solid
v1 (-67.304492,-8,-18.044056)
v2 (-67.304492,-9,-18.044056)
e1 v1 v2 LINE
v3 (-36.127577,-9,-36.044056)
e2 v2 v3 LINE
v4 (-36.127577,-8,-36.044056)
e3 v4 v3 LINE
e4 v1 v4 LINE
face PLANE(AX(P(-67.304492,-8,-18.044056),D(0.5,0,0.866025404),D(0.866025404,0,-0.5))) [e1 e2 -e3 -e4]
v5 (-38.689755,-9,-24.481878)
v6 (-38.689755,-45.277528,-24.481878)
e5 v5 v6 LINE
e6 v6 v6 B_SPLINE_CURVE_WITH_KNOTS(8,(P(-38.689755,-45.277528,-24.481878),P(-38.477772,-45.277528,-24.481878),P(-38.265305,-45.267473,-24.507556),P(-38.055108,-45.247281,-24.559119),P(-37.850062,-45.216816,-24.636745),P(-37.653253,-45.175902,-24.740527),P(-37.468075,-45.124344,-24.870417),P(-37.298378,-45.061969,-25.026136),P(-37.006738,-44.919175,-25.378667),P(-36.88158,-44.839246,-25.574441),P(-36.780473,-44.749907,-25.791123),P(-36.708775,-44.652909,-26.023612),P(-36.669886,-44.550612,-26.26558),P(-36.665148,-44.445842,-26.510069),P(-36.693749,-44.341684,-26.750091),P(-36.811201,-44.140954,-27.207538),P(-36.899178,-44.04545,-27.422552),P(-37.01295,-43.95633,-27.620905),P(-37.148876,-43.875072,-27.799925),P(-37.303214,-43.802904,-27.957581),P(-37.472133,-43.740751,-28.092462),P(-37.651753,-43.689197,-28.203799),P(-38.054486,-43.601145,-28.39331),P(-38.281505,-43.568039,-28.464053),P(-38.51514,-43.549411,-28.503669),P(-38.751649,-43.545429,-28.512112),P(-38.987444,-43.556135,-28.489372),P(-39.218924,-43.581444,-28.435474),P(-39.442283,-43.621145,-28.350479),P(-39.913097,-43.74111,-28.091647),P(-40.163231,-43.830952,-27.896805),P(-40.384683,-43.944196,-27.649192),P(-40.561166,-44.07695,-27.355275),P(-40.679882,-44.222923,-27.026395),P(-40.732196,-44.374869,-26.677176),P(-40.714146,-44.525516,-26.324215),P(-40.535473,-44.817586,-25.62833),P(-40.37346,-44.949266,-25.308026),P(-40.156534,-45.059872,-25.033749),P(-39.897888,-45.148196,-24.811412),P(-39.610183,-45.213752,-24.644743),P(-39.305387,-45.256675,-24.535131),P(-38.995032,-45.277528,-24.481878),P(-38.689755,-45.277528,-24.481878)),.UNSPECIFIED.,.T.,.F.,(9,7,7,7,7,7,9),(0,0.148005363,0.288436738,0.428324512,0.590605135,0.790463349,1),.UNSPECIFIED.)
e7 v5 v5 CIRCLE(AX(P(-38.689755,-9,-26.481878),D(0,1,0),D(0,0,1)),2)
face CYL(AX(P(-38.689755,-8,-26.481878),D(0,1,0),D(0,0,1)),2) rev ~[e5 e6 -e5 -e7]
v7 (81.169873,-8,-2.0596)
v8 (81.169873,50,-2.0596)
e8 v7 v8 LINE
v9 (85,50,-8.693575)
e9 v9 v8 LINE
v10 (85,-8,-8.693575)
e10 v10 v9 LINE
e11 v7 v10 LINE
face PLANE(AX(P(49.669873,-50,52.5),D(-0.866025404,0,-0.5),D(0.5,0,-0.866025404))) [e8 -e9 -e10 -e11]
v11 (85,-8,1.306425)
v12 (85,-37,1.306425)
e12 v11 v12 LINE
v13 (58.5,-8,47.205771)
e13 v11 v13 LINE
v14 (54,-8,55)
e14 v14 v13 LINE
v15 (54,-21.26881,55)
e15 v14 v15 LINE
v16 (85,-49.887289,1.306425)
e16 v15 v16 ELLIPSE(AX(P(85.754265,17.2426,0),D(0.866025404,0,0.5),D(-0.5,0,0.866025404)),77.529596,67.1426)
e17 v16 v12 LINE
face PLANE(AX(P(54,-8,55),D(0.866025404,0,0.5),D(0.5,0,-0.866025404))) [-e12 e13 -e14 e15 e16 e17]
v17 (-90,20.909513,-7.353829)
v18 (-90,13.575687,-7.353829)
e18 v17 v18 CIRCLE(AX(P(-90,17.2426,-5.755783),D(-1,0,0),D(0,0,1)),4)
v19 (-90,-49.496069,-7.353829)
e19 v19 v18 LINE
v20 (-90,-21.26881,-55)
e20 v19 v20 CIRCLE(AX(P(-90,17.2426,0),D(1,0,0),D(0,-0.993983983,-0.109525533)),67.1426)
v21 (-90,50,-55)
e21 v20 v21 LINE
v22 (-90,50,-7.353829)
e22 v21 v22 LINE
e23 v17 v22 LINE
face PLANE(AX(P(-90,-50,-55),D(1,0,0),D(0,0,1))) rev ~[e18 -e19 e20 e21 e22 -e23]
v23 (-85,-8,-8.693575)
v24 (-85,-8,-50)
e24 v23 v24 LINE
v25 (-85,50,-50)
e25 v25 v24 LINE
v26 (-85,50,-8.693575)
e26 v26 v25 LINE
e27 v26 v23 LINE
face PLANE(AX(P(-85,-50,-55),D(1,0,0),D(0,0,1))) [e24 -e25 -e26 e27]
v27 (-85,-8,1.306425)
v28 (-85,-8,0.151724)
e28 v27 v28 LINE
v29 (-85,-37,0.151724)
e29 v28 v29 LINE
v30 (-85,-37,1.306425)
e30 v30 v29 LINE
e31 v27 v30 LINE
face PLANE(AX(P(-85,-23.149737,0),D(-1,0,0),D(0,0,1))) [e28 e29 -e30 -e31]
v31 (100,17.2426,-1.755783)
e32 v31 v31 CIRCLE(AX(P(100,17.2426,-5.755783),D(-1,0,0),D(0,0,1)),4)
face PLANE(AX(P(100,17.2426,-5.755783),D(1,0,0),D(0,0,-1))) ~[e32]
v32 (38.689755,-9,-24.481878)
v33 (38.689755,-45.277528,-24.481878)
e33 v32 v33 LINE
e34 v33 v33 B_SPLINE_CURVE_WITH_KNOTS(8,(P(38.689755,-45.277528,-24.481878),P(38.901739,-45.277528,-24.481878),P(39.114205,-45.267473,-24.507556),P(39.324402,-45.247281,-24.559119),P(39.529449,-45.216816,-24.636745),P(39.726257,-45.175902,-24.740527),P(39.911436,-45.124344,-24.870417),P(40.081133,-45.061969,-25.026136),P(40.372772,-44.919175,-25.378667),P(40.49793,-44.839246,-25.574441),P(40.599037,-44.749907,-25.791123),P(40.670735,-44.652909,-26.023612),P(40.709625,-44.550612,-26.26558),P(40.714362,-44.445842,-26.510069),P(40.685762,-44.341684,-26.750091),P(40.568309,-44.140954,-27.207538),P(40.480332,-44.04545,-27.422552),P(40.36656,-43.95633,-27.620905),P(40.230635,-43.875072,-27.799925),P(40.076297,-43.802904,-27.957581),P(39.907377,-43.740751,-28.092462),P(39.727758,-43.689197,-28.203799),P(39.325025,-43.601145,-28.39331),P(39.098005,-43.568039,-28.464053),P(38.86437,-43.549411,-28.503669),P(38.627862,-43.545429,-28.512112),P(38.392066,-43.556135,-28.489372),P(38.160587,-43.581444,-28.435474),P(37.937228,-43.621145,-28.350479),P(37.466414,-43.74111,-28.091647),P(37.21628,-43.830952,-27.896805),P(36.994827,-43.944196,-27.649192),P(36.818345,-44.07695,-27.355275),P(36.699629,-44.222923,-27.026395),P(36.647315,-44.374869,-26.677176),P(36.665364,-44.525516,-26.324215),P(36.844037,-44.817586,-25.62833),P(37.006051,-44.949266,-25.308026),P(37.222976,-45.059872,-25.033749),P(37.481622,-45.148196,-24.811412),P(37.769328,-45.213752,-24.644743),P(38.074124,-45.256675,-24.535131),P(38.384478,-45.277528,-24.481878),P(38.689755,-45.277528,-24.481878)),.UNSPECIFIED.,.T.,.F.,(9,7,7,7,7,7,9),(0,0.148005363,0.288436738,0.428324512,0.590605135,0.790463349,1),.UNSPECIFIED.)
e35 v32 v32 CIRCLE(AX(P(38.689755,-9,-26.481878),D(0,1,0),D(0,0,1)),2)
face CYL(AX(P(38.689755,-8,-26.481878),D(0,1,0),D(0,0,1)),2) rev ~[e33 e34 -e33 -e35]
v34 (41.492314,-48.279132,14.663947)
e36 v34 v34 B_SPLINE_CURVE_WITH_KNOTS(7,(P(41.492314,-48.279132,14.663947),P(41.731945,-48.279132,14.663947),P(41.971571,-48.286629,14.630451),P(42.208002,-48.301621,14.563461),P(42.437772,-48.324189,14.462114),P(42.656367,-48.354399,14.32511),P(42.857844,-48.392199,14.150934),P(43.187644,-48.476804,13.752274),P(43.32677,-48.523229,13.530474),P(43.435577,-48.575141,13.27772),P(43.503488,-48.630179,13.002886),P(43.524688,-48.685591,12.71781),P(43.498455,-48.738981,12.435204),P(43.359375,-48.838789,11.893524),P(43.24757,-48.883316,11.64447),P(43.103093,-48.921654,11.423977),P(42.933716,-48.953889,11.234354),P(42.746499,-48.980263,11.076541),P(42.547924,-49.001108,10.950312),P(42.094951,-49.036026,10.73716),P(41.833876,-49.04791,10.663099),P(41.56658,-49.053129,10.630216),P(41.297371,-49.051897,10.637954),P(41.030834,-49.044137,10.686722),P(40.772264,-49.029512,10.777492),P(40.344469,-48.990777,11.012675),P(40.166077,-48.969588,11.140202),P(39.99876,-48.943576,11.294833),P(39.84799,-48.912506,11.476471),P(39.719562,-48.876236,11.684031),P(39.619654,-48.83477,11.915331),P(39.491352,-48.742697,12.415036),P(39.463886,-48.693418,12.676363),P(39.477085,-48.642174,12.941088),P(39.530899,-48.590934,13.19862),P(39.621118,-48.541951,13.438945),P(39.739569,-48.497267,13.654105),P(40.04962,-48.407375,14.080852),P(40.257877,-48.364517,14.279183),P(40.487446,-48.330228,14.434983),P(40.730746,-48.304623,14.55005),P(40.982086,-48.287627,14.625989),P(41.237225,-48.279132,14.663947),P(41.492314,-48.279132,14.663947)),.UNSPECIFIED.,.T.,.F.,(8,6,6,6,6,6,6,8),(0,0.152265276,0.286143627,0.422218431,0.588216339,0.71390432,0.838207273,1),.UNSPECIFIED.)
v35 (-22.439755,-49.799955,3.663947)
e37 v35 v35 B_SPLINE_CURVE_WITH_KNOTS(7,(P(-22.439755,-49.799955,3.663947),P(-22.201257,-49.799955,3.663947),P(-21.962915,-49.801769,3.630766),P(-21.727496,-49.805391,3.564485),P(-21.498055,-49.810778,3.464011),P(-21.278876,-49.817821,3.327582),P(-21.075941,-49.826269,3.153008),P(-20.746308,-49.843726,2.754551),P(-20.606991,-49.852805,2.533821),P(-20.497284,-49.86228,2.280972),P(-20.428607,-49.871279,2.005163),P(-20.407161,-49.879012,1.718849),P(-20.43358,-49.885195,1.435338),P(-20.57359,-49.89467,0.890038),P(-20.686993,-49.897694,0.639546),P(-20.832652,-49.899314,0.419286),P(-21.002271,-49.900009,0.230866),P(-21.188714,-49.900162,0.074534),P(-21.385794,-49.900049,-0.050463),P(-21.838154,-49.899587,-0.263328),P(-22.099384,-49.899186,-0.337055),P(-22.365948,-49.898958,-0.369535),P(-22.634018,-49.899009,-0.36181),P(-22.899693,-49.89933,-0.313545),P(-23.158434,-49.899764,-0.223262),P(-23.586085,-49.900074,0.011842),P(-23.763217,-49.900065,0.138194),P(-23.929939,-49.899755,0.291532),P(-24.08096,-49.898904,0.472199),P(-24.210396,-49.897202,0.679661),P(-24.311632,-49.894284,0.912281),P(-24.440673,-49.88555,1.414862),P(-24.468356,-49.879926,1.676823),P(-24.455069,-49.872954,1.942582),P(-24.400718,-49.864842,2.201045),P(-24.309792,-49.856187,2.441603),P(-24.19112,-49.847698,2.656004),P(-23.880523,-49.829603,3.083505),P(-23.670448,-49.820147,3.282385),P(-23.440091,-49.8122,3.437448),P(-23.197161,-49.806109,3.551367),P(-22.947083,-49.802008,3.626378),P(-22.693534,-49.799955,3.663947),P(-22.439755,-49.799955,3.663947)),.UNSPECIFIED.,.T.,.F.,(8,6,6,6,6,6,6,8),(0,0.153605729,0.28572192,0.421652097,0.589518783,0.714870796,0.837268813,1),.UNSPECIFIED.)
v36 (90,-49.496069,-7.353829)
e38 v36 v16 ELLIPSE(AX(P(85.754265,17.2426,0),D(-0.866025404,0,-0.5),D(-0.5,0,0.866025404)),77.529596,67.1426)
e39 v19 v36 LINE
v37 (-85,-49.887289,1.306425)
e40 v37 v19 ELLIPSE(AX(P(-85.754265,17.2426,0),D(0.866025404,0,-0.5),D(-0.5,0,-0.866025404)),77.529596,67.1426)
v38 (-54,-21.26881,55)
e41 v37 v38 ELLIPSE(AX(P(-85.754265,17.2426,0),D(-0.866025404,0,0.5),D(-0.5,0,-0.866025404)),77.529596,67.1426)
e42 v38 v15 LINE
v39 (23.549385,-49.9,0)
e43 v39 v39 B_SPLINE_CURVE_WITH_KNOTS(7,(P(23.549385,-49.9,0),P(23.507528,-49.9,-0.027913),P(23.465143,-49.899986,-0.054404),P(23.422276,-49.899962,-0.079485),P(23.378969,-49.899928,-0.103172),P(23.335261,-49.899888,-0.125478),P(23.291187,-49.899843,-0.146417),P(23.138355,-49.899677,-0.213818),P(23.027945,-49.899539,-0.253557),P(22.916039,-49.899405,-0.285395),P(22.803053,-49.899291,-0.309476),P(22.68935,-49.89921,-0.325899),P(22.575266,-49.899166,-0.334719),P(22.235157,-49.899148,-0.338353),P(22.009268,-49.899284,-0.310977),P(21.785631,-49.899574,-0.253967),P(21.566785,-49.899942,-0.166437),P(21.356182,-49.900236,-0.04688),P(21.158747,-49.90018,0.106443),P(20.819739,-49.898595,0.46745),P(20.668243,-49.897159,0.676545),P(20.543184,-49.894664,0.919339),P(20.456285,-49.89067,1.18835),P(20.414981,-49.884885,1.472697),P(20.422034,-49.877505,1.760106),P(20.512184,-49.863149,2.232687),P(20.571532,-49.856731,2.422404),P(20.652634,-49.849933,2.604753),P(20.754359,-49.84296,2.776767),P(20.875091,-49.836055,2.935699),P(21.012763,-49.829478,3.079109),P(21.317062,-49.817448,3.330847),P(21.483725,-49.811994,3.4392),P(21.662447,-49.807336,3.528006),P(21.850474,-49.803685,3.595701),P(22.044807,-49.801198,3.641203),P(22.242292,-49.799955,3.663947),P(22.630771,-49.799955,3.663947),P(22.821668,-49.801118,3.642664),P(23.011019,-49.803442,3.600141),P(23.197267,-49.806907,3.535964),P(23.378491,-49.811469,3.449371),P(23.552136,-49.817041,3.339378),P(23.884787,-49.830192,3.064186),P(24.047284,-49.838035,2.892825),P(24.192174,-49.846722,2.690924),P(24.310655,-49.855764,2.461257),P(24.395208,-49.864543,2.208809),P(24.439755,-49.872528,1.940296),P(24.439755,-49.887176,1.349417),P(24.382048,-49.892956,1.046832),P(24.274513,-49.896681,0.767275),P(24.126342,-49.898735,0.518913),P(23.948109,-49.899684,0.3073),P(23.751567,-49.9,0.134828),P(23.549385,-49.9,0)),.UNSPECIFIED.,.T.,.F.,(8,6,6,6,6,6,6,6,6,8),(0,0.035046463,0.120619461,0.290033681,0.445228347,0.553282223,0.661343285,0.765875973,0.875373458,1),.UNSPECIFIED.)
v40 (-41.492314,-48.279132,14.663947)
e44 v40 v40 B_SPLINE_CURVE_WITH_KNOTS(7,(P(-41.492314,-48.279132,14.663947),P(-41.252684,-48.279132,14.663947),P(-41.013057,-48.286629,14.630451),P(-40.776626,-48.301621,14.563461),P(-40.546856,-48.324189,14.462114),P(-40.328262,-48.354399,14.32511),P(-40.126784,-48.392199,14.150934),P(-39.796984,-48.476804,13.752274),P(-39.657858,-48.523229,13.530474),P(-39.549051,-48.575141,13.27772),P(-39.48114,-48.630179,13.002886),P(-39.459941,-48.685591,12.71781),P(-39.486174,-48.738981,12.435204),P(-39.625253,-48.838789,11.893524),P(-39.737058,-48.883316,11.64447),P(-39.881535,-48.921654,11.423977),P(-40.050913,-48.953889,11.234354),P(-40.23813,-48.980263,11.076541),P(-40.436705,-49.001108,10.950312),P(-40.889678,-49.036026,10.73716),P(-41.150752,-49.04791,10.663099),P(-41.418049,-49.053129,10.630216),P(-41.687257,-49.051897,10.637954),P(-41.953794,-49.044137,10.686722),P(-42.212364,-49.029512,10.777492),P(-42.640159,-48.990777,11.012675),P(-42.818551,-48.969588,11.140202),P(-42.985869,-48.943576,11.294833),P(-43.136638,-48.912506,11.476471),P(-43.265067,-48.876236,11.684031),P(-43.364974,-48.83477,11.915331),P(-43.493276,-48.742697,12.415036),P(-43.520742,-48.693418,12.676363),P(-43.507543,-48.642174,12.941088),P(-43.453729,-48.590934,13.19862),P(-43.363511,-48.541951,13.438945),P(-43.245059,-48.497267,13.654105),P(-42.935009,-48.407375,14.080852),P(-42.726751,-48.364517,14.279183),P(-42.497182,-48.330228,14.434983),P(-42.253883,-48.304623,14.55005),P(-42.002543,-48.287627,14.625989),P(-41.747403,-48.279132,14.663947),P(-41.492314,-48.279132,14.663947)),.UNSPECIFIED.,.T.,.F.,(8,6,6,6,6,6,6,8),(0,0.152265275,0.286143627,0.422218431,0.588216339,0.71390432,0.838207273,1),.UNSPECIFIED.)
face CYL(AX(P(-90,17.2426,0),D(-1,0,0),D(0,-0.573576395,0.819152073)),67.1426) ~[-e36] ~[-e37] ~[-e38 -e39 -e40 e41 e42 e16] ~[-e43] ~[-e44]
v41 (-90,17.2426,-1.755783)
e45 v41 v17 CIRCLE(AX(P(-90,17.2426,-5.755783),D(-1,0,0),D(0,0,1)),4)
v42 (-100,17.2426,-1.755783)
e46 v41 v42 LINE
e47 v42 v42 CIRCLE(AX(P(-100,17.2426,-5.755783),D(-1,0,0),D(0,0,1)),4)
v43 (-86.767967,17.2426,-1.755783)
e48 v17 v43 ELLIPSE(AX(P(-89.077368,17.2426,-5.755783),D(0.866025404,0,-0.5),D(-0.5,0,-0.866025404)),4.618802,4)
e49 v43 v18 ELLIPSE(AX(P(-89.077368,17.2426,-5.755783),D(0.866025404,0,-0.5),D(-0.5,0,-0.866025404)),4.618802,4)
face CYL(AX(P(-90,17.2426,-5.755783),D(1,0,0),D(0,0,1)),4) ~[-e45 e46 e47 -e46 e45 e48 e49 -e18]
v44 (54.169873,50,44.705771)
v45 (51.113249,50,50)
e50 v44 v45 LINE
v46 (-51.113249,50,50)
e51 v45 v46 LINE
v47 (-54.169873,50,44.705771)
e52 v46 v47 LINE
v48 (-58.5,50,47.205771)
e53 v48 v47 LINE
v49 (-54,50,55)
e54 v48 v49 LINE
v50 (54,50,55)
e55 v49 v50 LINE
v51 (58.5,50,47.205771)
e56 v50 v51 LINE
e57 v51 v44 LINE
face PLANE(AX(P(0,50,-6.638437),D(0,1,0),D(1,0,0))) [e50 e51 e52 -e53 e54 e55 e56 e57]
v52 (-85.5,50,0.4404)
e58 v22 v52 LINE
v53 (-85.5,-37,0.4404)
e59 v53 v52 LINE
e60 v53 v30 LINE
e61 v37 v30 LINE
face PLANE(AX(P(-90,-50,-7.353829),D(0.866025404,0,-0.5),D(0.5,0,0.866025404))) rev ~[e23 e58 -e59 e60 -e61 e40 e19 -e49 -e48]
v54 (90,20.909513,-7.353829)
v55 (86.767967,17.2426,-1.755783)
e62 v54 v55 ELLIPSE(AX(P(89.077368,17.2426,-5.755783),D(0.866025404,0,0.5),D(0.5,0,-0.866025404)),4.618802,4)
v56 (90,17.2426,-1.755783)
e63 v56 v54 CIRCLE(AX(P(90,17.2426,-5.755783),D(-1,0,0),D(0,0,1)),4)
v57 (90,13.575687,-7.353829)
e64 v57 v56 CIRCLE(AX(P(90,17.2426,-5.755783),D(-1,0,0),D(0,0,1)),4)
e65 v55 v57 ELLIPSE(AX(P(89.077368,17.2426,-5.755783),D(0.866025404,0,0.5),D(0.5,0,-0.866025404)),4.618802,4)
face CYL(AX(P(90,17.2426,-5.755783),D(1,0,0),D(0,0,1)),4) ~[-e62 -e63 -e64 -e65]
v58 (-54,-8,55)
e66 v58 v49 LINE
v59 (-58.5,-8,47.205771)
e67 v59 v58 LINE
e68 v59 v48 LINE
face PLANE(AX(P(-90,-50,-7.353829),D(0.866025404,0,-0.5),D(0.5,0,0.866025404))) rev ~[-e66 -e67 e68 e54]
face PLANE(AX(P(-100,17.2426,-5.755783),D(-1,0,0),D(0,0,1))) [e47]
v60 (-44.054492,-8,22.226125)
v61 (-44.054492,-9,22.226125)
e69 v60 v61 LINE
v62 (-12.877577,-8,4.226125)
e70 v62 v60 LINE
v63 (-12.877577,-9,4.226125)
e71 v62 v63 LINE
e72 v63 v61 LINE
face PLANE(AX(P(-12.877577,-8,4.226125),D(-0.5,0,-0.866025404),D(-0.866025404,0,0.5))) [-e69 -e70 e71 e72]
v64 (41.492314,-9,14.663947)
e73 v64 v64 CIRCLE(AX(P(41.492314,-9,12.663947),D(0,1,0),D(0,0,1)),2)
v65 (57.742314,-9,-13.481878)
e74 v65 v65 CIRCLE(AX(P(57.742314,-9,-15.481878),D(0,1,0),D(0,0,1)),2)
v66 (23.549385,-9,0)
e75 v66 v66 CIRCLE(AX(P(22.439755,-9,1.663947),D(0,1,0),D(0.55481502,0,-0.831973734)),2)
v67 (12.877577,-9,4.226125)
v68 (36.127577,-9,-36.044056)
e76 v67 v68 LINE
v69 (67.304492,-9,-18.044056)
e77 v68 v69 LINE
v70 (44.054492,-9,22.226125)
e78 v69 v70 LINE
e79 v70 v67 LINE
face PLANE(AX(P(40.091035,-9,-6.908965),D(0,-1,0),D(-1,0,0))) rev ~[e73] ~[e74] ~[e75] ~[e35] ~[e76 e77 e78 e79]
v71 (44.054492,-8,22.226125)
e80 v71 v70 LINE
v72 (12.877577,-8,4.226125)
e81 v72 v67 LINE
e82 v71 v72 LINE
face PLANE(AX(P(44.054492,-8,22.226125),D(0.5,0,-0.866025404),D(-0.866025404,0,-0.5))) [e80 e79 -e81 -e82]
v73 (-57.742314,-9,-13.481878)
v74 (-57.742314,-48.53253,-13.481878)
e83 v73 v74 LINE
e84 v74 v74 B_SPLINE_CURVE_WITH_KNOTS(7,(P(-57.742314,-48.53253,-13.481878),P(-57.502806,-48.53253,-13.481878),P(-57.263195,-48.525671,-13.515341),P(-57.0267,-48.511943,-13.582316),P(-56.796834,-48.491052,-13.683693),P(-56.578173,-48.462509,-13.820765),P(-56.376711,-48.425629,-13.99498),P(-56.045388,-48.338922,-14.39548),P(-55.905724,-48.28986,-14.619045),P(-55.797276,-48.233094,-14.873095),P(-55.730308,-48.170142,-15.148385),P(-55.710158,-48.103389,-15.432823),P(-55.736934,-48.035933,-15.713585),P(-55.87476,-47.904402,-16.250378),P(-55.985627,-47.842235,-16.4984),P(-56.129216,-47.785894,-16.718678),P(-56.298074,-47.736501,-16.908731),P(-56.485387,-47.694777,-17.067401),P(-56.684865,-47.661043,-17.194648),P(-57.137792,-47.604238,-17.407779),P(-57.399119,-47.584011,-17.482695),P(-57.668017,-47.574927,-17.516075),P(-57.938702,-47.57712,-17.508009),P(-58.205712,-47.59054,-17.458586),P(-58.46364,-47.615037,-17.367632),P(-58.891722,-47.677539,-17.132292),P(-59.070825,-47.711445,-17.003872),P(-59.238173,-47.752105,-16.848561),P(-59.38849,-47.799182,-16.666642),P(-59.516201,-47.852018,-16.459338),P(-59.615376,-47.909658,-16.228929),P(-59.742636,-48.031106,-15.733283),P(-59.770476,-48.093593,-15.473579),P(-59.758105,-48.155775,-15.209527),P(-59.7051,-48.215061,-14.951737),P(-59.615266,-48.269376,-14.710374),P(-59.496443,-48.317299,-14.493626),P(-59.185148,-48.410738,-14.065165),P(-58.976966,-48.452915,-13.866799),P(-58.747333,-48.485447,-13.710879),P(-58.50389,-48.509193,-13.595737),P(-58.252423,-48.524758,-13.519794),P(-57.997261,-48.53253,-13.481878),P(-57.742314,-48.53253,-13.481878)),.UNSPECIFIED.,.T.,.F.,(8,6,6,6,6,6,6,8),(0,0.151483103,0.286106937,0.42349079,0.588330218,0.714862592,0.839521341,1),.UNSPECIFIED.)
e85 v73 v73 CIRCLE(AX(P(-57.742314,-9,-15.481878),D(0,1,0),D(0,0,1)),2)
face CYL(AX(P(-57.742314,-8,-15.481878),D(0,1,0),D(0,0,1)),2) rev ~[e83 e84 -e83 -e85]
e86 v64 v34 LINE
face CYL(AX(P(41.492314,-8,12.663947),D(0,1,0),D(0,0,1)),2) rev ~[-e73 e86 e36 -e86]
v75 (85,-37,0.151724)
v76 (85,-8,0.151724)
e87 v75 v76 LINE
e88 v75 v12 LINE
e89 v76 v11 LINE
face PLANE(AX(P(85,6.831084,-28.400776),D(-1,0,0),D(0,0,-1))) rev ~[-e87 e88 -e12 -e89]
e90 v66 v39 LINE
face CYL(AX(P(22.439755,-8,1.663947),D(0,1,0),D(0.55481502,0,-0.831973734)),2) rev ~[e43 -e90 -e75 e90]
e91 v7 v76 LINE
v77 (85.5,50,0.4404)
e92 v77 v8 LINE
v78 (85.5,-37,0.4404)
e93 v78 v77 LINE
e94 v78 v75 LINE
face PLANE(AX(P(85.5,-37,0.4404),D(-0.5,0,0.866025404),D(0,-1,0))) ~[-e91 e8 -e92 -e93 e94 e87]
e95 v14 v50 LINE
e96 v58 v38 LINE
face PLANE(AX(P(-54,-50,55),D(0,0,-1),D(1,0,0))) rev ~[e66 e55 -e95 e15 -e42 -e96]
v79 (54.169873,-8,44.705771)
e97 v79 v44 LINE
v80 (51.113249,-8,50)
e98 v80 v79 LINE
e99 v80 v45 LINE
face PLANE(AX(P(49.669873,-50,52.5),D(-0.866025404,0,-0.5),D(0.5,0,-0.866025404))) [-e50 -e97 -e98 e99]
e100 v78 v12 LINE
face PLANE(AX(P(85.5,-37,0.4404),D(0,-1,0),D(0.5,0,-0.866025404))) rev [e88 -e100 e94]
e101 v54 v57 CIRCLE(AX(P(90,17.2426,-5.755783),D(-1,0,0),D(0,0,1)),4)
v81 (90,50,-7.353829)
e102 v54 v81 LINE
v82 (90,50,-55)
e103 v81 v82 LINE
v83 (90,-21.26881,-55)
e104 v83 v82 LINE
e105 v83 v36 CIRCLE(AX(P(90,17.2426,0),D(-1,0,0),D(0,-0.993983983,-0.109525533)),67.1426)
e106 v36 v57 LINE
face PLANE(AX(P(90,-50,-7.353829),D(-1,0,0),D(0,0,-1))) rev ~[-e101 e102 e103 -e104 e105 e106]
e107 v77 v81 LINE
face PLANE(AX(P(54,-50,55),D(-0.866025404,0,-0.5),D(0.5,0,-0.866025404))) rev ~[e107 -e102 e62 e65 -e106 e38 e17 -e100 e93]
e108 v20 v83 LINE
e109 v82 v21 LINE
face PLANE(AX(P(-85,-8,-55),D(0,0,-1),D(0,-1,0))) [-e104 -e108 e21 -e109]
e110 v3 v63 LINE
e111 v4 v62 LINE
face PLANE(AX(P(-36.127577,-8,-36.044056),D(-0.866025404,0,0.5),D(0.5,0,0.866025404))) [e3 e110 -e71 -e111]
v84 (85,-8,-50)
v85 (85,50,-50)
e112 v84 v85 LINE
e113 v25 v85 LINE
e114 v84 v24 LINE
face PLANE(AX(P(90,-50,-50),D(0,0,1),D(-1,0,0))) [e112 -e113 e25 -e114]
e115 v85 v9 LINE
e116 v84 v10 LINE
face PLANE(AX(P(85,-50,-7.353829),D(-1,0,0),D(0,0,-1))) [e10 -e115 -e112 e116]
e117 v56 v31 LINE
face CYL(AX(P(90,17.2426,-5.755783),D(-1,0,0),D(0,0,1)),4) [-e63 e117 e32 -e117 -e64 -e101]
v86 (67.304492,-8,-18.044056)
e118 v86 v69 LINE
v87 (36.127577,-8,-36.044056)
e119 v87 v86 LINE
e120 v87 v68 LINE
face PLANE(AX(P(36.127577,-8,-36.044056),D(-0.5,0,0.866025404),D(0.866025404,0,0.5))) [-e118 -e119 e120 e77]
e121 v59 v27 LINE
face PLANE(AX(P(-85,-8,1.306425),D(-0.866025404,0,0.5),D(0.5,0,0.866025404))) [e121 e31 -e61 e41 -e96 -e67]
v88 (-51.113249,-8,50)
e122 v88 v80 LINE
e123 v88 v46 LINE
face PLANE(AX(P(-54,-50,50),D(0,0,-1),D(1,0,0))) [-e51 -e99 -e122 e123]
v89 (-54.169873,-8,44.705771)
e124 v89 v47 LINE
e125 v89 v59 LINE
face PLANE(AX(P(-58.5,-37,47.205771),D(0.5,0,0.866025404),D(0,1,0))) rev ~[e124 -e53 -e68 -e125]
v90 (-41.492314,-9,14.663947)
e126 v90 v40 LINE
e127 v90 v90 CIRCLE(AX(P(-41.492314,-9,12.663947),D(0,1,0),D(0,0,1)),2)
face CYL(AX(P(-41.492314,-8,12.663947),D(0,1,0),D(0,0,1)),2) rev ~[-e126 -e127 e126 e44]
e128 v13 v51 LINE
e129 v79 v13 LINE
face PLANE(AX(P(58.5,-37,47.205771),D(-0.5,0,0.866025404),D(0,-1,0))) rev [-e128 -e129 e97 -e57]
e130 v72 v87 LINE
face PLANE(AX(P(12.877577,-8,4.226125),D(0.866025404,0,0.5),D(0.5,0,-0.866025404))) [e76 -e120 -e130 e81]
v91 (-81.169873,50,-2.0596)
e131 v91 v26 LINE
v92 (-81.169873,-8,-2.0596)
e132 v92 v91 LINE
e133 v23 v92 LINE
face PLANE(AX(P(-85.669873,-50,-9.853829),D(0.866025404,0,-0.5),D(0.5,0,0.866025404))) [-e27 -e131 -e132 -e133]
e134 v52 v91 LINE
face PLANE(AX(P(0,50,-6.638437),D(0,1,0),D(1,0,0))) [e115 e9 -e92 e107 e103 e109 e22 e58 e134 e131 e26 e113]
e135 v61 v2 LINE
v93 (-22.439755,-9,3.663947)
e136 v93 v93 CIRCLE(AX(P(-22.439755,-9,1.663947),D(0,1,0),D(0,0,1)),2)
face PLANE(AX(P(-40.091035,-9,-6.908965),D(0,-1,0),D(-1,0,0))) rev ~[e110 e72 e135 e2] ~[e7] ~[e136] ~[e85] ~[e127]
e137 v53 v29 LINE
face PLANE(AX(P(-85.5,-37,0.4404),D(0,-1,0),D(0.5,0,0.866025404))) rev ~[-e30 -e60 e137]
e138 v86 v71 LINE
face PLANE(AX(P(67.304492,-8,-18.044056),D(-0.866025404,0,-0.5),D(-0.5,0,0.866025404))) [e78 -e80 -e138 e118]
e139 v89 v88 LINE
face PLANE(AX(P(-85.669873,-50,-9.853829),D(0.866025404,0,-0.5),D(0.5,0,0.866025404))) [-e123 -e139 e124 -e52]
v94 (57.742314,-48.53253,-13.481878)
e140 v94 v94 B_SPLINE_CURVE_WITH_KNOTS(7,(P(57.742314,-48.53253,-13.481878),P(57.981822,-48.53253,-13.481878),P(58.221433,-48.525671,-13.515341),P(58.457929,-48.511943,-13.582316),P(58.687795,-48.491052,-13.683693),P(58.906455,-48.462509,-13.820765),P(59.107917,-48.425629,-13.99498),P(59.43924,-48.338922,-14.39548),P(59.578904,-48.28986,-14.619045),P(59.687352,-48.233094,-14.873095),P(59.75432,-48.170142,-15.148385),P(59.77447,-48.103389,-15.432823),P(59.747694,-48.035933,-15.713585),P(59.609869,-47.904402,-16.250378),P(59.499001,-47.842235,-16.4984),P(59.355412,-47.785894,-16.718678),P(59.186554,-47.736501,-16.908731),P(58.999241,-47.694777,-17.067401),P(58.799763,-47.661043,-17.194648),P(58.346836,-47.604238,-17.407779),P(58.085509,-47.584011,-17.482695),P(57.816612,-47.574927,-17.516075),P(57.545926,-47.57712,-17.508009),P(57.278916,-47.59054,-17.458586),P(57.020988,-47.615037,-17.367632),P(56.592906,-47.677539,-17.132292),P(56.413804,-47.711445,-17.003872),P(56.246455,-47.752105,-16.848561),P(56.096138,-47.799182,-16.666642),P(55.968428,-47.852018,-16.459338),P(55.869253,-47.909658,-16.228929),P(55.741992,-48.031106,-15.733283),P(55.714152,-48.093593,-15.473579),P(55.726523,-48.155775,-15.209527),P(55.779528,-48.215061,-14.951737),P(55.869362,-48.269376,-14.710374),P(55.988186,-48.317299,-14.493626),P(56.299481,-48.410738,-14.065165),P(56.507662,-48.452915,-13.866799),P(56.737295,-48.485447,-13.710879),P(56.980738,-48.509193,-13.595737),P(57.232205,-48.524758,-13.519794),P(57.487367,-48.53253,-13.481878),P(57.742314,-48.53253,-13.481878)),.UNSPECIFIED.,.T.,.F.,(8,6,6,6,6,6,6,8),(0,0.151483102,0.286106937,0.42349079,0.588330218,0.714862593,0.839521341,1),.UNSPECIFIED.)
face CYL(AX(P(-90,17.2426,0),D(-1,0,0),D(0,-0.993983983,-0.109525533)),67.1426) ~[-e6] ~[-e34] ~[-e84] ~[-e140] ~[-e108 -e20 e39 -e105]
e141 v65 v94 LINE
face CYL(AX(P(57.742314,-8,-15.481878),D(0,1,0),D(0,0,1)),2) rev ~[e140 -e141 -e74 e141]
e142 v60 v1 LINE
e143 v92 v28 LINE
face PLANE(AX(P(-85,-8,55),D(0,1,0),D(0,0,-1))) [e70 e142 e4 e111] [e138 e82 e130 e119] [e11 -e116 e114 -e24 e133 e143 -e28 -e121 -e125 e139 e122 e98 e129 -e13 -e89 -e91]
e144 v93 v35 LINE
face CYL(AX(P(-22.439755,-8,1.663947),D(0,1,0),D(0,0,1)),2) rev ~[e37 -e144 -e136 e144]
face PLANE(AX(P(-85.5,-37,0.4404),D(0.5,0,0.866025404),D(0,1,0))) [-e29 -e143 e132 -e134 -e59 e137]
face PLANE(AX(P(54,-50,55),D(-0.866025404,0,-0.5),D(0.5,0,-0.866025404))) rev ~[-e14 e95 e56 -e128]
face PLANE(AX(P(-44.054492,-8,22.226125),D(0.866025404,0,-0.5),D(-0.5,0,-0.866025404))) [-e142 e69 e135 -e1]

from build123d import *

# Parameters (mm, degrees)
BOSS_EXTRUDE1_DEPTH             = 50
BOSS_EXTRUDE1_DEPTH_BACK        = 50
CUT_EXTRUDE9_REACH              = 196.743
SHELL1_T                        = -5
SKETCH5_W                       = 54
SKETCH5_H                       = 87
CUT_EXTRUDE2_DEPTH              = 5
BOSS_EXTRUDE4_REACH             = 192.132
SKETCH6_R                       = 2
CUT_EXTRUDE4_DEPTH              = 121.370262108
SKETCH6_4_R                     = 2
CUT_EXTRUDE5_DEPTH              = 1
CUT_EXTRUDE10_REACH             = 122.37
SKETCH18_R                      = 4
BOSS_EXTRUDE5_DEPTH             = 10
BOSS_EXTRUDE5_DIRECTION_2_REACH = 196.743


with BuildPart() as part:
    # Sketch2 → Boss-Extrude1 (new, two sides: drawn at the far end of the back side and taken through both)
    with BuildSketch(Plane(origin=(0, 0, 0), x_dir=(1, 0, 0), z_dir=(0, 1, 0)).offset(-BOSS_EXTRUDE1_DEPTH_BACK)):
        Polygon((-90, 7.353829072), (-54, -55), (54, -55), (90, 7.353829072), (90, 55), (-90, 55), align=None)
    extrude(amount=BOSS_EXTRUDE1_DEPTH + BOSS_EXTRUDE1_DEPTH_BACK)

    # Sketch13 → Cut-Extrude9 (cut, up to next)
    with BuildSketch(Plane.ZY.offset(90), mode=Mode.PRIVATE) as cut_extrude9_sk1:
        with BuildLine():
            Line((-55, -21.268810449), (-55, -50))
            Line((-55, -50), (-7.353829072, -50))
            Line((-7.353829072, -50), (-7.353829072, -49.496068946))
            ThreePointArc((-7.353829072, -49.496068946), (-34.222719509, -40.523602958), (-55, -21.268810449))
        make_face()
    cut_extrude9_tool1 = extrude(cut_extrude9_sk1.sketch, amount=-CUT_EXTRUDE9_REACH, mode=Mode.PRIVATE) & part.part
    # Sketch13 → Cut-Extrude9 (cut, up to next)
    with BuildSketch(Plane.ZY.offset(90), mode=Mode.PRIVATE) as cut_extrude9_sk2:
        with BuildLine():
            Line((-7.353829072, -49.496068946), (-7.353829072, -50))
            Line((-7.353829072, -50), (55, -50))
            Line((55, -50), (55, -21.268810449))
            ThreePointArc((55, -21.268810449), (27.689960845, -43.924342078), (-7.353829072, -49.496068946))
        make_face()
    cut_extrude9_tool2 = extrude(cut_extrude9_sk2.sketch, amount=-CUT_EXTRUDE9_REACH, mode=Mode.PRIVATE) & part.part
    add(cut_extrude9_tool1.solids().sort_by_distance((-90, -41.817219, -41.87257))[0], mode=Mode.SUBTRACT)
    add(cut_extrude9_tool2.solids().sort_by_distance((-90, -41.875278, 41.569998))[0], mode=Mode.SUBTRACT)

    # Shell1
    shell1_openings = [part.faces().sort_by_distance(p)[0] for p in [
        (0, 50, -4.375017638),
    ]]
    offset(amount=SHELL1_T, openings=shell1_openings, kind=Kind.INTERSECTION)

    # Sketch5 → Cut-Extrude2 (cut)
    with BuildSketch(Plane(origin=(-64.315698604, 0, 37.132685902), x_dir=(0.500000000000001, 0, 0.8660254037844382), z_dir=(-0.866025403784438, 0, 0.5000000000000009))):
        with Locations((-15.368602792, 6.5)):
            Rectangle(SKETCH5_W, SKETCH5_H)
    cut_extrude2 = extrude(amount=-CUT_EXTRUDE2_DEPTH, mode=Mode.SUBTRACT)

    # Mirror1: Cut-Extrude2 across plane
    add(cut_extrude2.mirror(Plane(origin=(0, 0, 0), x_dir=(0, 0, 1), z_dir=(1, 0, 0))), mode=Mode.SUBTRACT)

    # Boss-Extrude4: up to this face of the body (flat: up to its plane)
    boss_extrude4_end = Plane(part.part.faces().sort_by_distance((85, 6.834453574, -28.402154485))[0])
    # Sketch16 → Boss-Extrude4 (add, up to the picked face)
    with BuildSketch(Plane(origin=(-85, 0, 0), x_dir=(0, 0, -1), z_dir=(1, 0, 0)), mode=Mode.PRIVATE) as boss_extrude4_sk1:
        with BuildLine():
            Line((-55, -8), (55, -8))
            Line((55, -8), (55, -21.268810449))
            ThreePointArc((55, -21.268810449), (0, -49.9), (-55, -21.268810449))
            Line((-55, -21.268810449), (-55, -8))
        make_face()
    boss_extrude4_tool1 = split(extrude(boss_extrude4_sk1.sketch, amount=BOSS_EXTRUDE4_REACH, mode=Mode.PRIVATE), bisect_by=boss_extrude4_end, keep=Keep.BOTH, mode=Mode.PRIVATE)
    add(boss_extrude4_tool1.solids().sort_by(Axis((-85, -25.669954, 0), (1, 0, 0)))[0])

    # Sketch6 → Cut-Extrude4 (cut, through all)
    with BuildSketch(Plane(origin=(0, -8, 0), x_dir=(1, 0, 0), z_dir=(0, 1, 0))):
        with Locations(Location((-57.742314098, 15.481878155, 0), (0, 0, 270))):
            Circle(SKETCH6_R)
        with Locations(Location((-38.689755215, 26.481878155, 0), (0, 0, 270))):
            Circle(SKETCH6_R)
        with Locations(Location((-41.492314098, -12.663947468, 0), (0, 0, 270))):
            Circle(SKETCH6_R)
        with Locations(Location((-22.439755215, -1.663947468, 0), (0, 0, 270))):
            Circle(SKETCH6_R)
        with Locations(Location((22.439755215, -1.663947468, 0), (0, 0, 56.302025246))):
            Circle(SKETCH6_R)
        with Locations(Location((41.492314098, -12.663947468, 0), (0, 0, 270))):
            Circle(SKETCH6_R)
        with Locations(Location((38.689755215, 26.481878155, 0), (0, 0, 270))):
            Circle(SKETCH6_R)
        with Locations(Location((57.742314098, 15.481878155, 0), (0, 0, 270))):
            Circle(SKETCH6_R)
    extrude(amount=-CUT_EXTRUDE4_DEPTH, mode=Mode.SUBTRACT)

    # Sketch6<4> → Cut-Extrude5 (cut)
    # profile 1 of 2: a face of its own
    with BuildSketch(Plane(origin=(0, -8, 0), x_dir=(1, 0, 0), z_dir=(0, 1, 0))):
        Polygon((36.127577388, 36.044055982), (67.304491924, 18.044055982), (44.054491924, -22.226125294), (12.877577388, -4.226125294), align=None)
        with Locations(Location((38.689755215, 26.481878155, 0), (0, 0, 270))):
            Circle(SKETCH6_4_R, mode=Mode.SUBTRACT)
        with Locations(Location((22.439755215, -1.663947468, 0), (0, 0, 270))):
            Circle(SKETCH6_4_R, mode=Mode.SUBTRACT)
        with Locations(Location((41.492314098, -12.663947468, 0), (0, 0, 270))):
            Circle(SKETCH6_4_R, mode=Mode.SUBTRACT)
        with Locations(Location((57.742314098, 15.481878155, 0), (0, 0, 270))):
            Circle(SKETCH6_4_R, mode=Mode.SUBTRACT)
    # profile 2 of 2: a face of its own
    with BuildSketch(Plane(origin=(0, -8, 0), x_dir=(1, 0, 0), z_dir=(0, 1, 0))):
        Polygon((-36.127577388, 36.044055982), (-12.877577388, -4.226125294), (-44.054491924, -22.226125294), (-67.304491924, 18.044055982), align=None)
    extrude(amount=-CUT_EXTRUDE5_DEPTH, mode=Mode.SUBTRACT)

    # Sketch17 → Cut-Extrude10 (cut, up to next)
    with BuildSketch(Plane(origin=(0, -8, 0), x_dir=(1, 0, 0), z_dir=(0, 1, 0)), mode=Mode.PRIVATE) as cut_extrude10_sk1:
        Polygon((-54, -55), (-85, -55), (-85, -1.306424965), align=None)
    cut_extrude10_tool1 = extrude(cut_extrude10_sk1.sketch, amount=-CUT_EXTRUDE10_REACH, mode=Mode.PRIVATE) & part.part
    # Sketch17 → Cut-Extrude10 (cut, up to next)
    with BuildSketch(Plane(origin=(0, -8, 0), x_dir=(1, 0, 0), z_dir=(0, 1, 0)), mode=Mode.PRIVATE) as cut_extrude10_sk2:
        Polygon((85, -55), (54, -55), (85, -1.306424965), align=None)
    cut_extrude10_tool2 = extrude(cut_extrude10_sk2.sketch, amount=-CUT_EXTRUDE10_REACH, mode=Mode.PRIVATE) & part.part
    add(cut_extrude10_tool1.solids().sort_by_distance((-74.666667, -8, 37.102142))[0], mode=Mode.SUBTRACT)
    add(cut_extrude10_tool2.solids().sort_by_distance((74.666667, -8, 37.102142))[0], mode=Mode.SUBTRACT)

    # Sketch18 → Boss-Extrude5 (add)
    with BuildSketch(Plane.ZY.offset(90)):
        with Locations((-5.755783353, 17.2426)):
            Circle(SKETCH18_R)
    boss_extrude5 = extrude(amount=BOSS_EXTRUDE5_DEPTH)

    # Sketch18 → Boss-Extrude5 direction 2 (add, up to next)
    with BuildSketch(Plane.ZY.offset(90), mode=Mode.PRIVATE) as boss_extrude5_direction_2_sk1:
        with Locations((-5.755783353, 17.2426)):
            Circle(SKETCH18_R)
    boss_extrude5_direction_2_tool1 = extrude(boss_extrude5_direction_2_sk1.sketch, amount=-BOSS_EXTRUDE5_DIRECTION_2_REACH, mode=Mode.PRIVATE) - part.part
    boss_extrude5_direction_2 = boss_extrude5_direction_2_tool1.solids().sort_by_distance((-90, 17.2426, -5.755783))[0]
    add(boss_extrude5_direction_2)

    # Mirror2: Boss-Extrude5, Boss-Extrude5 direction 2 across plane
    add(boss_extrude5.mirror(Plane(origin=(0, 0, 0), x_dir=(0, 0, 1), z_dir=(1, 0, 0))))
    add(boss_extrude5_direction_2.mirror(Plane(origin=(0, 0, 0), x_dir=(0, 0, 1), z_dir=(1, 0, 0))))


solid = part.part
